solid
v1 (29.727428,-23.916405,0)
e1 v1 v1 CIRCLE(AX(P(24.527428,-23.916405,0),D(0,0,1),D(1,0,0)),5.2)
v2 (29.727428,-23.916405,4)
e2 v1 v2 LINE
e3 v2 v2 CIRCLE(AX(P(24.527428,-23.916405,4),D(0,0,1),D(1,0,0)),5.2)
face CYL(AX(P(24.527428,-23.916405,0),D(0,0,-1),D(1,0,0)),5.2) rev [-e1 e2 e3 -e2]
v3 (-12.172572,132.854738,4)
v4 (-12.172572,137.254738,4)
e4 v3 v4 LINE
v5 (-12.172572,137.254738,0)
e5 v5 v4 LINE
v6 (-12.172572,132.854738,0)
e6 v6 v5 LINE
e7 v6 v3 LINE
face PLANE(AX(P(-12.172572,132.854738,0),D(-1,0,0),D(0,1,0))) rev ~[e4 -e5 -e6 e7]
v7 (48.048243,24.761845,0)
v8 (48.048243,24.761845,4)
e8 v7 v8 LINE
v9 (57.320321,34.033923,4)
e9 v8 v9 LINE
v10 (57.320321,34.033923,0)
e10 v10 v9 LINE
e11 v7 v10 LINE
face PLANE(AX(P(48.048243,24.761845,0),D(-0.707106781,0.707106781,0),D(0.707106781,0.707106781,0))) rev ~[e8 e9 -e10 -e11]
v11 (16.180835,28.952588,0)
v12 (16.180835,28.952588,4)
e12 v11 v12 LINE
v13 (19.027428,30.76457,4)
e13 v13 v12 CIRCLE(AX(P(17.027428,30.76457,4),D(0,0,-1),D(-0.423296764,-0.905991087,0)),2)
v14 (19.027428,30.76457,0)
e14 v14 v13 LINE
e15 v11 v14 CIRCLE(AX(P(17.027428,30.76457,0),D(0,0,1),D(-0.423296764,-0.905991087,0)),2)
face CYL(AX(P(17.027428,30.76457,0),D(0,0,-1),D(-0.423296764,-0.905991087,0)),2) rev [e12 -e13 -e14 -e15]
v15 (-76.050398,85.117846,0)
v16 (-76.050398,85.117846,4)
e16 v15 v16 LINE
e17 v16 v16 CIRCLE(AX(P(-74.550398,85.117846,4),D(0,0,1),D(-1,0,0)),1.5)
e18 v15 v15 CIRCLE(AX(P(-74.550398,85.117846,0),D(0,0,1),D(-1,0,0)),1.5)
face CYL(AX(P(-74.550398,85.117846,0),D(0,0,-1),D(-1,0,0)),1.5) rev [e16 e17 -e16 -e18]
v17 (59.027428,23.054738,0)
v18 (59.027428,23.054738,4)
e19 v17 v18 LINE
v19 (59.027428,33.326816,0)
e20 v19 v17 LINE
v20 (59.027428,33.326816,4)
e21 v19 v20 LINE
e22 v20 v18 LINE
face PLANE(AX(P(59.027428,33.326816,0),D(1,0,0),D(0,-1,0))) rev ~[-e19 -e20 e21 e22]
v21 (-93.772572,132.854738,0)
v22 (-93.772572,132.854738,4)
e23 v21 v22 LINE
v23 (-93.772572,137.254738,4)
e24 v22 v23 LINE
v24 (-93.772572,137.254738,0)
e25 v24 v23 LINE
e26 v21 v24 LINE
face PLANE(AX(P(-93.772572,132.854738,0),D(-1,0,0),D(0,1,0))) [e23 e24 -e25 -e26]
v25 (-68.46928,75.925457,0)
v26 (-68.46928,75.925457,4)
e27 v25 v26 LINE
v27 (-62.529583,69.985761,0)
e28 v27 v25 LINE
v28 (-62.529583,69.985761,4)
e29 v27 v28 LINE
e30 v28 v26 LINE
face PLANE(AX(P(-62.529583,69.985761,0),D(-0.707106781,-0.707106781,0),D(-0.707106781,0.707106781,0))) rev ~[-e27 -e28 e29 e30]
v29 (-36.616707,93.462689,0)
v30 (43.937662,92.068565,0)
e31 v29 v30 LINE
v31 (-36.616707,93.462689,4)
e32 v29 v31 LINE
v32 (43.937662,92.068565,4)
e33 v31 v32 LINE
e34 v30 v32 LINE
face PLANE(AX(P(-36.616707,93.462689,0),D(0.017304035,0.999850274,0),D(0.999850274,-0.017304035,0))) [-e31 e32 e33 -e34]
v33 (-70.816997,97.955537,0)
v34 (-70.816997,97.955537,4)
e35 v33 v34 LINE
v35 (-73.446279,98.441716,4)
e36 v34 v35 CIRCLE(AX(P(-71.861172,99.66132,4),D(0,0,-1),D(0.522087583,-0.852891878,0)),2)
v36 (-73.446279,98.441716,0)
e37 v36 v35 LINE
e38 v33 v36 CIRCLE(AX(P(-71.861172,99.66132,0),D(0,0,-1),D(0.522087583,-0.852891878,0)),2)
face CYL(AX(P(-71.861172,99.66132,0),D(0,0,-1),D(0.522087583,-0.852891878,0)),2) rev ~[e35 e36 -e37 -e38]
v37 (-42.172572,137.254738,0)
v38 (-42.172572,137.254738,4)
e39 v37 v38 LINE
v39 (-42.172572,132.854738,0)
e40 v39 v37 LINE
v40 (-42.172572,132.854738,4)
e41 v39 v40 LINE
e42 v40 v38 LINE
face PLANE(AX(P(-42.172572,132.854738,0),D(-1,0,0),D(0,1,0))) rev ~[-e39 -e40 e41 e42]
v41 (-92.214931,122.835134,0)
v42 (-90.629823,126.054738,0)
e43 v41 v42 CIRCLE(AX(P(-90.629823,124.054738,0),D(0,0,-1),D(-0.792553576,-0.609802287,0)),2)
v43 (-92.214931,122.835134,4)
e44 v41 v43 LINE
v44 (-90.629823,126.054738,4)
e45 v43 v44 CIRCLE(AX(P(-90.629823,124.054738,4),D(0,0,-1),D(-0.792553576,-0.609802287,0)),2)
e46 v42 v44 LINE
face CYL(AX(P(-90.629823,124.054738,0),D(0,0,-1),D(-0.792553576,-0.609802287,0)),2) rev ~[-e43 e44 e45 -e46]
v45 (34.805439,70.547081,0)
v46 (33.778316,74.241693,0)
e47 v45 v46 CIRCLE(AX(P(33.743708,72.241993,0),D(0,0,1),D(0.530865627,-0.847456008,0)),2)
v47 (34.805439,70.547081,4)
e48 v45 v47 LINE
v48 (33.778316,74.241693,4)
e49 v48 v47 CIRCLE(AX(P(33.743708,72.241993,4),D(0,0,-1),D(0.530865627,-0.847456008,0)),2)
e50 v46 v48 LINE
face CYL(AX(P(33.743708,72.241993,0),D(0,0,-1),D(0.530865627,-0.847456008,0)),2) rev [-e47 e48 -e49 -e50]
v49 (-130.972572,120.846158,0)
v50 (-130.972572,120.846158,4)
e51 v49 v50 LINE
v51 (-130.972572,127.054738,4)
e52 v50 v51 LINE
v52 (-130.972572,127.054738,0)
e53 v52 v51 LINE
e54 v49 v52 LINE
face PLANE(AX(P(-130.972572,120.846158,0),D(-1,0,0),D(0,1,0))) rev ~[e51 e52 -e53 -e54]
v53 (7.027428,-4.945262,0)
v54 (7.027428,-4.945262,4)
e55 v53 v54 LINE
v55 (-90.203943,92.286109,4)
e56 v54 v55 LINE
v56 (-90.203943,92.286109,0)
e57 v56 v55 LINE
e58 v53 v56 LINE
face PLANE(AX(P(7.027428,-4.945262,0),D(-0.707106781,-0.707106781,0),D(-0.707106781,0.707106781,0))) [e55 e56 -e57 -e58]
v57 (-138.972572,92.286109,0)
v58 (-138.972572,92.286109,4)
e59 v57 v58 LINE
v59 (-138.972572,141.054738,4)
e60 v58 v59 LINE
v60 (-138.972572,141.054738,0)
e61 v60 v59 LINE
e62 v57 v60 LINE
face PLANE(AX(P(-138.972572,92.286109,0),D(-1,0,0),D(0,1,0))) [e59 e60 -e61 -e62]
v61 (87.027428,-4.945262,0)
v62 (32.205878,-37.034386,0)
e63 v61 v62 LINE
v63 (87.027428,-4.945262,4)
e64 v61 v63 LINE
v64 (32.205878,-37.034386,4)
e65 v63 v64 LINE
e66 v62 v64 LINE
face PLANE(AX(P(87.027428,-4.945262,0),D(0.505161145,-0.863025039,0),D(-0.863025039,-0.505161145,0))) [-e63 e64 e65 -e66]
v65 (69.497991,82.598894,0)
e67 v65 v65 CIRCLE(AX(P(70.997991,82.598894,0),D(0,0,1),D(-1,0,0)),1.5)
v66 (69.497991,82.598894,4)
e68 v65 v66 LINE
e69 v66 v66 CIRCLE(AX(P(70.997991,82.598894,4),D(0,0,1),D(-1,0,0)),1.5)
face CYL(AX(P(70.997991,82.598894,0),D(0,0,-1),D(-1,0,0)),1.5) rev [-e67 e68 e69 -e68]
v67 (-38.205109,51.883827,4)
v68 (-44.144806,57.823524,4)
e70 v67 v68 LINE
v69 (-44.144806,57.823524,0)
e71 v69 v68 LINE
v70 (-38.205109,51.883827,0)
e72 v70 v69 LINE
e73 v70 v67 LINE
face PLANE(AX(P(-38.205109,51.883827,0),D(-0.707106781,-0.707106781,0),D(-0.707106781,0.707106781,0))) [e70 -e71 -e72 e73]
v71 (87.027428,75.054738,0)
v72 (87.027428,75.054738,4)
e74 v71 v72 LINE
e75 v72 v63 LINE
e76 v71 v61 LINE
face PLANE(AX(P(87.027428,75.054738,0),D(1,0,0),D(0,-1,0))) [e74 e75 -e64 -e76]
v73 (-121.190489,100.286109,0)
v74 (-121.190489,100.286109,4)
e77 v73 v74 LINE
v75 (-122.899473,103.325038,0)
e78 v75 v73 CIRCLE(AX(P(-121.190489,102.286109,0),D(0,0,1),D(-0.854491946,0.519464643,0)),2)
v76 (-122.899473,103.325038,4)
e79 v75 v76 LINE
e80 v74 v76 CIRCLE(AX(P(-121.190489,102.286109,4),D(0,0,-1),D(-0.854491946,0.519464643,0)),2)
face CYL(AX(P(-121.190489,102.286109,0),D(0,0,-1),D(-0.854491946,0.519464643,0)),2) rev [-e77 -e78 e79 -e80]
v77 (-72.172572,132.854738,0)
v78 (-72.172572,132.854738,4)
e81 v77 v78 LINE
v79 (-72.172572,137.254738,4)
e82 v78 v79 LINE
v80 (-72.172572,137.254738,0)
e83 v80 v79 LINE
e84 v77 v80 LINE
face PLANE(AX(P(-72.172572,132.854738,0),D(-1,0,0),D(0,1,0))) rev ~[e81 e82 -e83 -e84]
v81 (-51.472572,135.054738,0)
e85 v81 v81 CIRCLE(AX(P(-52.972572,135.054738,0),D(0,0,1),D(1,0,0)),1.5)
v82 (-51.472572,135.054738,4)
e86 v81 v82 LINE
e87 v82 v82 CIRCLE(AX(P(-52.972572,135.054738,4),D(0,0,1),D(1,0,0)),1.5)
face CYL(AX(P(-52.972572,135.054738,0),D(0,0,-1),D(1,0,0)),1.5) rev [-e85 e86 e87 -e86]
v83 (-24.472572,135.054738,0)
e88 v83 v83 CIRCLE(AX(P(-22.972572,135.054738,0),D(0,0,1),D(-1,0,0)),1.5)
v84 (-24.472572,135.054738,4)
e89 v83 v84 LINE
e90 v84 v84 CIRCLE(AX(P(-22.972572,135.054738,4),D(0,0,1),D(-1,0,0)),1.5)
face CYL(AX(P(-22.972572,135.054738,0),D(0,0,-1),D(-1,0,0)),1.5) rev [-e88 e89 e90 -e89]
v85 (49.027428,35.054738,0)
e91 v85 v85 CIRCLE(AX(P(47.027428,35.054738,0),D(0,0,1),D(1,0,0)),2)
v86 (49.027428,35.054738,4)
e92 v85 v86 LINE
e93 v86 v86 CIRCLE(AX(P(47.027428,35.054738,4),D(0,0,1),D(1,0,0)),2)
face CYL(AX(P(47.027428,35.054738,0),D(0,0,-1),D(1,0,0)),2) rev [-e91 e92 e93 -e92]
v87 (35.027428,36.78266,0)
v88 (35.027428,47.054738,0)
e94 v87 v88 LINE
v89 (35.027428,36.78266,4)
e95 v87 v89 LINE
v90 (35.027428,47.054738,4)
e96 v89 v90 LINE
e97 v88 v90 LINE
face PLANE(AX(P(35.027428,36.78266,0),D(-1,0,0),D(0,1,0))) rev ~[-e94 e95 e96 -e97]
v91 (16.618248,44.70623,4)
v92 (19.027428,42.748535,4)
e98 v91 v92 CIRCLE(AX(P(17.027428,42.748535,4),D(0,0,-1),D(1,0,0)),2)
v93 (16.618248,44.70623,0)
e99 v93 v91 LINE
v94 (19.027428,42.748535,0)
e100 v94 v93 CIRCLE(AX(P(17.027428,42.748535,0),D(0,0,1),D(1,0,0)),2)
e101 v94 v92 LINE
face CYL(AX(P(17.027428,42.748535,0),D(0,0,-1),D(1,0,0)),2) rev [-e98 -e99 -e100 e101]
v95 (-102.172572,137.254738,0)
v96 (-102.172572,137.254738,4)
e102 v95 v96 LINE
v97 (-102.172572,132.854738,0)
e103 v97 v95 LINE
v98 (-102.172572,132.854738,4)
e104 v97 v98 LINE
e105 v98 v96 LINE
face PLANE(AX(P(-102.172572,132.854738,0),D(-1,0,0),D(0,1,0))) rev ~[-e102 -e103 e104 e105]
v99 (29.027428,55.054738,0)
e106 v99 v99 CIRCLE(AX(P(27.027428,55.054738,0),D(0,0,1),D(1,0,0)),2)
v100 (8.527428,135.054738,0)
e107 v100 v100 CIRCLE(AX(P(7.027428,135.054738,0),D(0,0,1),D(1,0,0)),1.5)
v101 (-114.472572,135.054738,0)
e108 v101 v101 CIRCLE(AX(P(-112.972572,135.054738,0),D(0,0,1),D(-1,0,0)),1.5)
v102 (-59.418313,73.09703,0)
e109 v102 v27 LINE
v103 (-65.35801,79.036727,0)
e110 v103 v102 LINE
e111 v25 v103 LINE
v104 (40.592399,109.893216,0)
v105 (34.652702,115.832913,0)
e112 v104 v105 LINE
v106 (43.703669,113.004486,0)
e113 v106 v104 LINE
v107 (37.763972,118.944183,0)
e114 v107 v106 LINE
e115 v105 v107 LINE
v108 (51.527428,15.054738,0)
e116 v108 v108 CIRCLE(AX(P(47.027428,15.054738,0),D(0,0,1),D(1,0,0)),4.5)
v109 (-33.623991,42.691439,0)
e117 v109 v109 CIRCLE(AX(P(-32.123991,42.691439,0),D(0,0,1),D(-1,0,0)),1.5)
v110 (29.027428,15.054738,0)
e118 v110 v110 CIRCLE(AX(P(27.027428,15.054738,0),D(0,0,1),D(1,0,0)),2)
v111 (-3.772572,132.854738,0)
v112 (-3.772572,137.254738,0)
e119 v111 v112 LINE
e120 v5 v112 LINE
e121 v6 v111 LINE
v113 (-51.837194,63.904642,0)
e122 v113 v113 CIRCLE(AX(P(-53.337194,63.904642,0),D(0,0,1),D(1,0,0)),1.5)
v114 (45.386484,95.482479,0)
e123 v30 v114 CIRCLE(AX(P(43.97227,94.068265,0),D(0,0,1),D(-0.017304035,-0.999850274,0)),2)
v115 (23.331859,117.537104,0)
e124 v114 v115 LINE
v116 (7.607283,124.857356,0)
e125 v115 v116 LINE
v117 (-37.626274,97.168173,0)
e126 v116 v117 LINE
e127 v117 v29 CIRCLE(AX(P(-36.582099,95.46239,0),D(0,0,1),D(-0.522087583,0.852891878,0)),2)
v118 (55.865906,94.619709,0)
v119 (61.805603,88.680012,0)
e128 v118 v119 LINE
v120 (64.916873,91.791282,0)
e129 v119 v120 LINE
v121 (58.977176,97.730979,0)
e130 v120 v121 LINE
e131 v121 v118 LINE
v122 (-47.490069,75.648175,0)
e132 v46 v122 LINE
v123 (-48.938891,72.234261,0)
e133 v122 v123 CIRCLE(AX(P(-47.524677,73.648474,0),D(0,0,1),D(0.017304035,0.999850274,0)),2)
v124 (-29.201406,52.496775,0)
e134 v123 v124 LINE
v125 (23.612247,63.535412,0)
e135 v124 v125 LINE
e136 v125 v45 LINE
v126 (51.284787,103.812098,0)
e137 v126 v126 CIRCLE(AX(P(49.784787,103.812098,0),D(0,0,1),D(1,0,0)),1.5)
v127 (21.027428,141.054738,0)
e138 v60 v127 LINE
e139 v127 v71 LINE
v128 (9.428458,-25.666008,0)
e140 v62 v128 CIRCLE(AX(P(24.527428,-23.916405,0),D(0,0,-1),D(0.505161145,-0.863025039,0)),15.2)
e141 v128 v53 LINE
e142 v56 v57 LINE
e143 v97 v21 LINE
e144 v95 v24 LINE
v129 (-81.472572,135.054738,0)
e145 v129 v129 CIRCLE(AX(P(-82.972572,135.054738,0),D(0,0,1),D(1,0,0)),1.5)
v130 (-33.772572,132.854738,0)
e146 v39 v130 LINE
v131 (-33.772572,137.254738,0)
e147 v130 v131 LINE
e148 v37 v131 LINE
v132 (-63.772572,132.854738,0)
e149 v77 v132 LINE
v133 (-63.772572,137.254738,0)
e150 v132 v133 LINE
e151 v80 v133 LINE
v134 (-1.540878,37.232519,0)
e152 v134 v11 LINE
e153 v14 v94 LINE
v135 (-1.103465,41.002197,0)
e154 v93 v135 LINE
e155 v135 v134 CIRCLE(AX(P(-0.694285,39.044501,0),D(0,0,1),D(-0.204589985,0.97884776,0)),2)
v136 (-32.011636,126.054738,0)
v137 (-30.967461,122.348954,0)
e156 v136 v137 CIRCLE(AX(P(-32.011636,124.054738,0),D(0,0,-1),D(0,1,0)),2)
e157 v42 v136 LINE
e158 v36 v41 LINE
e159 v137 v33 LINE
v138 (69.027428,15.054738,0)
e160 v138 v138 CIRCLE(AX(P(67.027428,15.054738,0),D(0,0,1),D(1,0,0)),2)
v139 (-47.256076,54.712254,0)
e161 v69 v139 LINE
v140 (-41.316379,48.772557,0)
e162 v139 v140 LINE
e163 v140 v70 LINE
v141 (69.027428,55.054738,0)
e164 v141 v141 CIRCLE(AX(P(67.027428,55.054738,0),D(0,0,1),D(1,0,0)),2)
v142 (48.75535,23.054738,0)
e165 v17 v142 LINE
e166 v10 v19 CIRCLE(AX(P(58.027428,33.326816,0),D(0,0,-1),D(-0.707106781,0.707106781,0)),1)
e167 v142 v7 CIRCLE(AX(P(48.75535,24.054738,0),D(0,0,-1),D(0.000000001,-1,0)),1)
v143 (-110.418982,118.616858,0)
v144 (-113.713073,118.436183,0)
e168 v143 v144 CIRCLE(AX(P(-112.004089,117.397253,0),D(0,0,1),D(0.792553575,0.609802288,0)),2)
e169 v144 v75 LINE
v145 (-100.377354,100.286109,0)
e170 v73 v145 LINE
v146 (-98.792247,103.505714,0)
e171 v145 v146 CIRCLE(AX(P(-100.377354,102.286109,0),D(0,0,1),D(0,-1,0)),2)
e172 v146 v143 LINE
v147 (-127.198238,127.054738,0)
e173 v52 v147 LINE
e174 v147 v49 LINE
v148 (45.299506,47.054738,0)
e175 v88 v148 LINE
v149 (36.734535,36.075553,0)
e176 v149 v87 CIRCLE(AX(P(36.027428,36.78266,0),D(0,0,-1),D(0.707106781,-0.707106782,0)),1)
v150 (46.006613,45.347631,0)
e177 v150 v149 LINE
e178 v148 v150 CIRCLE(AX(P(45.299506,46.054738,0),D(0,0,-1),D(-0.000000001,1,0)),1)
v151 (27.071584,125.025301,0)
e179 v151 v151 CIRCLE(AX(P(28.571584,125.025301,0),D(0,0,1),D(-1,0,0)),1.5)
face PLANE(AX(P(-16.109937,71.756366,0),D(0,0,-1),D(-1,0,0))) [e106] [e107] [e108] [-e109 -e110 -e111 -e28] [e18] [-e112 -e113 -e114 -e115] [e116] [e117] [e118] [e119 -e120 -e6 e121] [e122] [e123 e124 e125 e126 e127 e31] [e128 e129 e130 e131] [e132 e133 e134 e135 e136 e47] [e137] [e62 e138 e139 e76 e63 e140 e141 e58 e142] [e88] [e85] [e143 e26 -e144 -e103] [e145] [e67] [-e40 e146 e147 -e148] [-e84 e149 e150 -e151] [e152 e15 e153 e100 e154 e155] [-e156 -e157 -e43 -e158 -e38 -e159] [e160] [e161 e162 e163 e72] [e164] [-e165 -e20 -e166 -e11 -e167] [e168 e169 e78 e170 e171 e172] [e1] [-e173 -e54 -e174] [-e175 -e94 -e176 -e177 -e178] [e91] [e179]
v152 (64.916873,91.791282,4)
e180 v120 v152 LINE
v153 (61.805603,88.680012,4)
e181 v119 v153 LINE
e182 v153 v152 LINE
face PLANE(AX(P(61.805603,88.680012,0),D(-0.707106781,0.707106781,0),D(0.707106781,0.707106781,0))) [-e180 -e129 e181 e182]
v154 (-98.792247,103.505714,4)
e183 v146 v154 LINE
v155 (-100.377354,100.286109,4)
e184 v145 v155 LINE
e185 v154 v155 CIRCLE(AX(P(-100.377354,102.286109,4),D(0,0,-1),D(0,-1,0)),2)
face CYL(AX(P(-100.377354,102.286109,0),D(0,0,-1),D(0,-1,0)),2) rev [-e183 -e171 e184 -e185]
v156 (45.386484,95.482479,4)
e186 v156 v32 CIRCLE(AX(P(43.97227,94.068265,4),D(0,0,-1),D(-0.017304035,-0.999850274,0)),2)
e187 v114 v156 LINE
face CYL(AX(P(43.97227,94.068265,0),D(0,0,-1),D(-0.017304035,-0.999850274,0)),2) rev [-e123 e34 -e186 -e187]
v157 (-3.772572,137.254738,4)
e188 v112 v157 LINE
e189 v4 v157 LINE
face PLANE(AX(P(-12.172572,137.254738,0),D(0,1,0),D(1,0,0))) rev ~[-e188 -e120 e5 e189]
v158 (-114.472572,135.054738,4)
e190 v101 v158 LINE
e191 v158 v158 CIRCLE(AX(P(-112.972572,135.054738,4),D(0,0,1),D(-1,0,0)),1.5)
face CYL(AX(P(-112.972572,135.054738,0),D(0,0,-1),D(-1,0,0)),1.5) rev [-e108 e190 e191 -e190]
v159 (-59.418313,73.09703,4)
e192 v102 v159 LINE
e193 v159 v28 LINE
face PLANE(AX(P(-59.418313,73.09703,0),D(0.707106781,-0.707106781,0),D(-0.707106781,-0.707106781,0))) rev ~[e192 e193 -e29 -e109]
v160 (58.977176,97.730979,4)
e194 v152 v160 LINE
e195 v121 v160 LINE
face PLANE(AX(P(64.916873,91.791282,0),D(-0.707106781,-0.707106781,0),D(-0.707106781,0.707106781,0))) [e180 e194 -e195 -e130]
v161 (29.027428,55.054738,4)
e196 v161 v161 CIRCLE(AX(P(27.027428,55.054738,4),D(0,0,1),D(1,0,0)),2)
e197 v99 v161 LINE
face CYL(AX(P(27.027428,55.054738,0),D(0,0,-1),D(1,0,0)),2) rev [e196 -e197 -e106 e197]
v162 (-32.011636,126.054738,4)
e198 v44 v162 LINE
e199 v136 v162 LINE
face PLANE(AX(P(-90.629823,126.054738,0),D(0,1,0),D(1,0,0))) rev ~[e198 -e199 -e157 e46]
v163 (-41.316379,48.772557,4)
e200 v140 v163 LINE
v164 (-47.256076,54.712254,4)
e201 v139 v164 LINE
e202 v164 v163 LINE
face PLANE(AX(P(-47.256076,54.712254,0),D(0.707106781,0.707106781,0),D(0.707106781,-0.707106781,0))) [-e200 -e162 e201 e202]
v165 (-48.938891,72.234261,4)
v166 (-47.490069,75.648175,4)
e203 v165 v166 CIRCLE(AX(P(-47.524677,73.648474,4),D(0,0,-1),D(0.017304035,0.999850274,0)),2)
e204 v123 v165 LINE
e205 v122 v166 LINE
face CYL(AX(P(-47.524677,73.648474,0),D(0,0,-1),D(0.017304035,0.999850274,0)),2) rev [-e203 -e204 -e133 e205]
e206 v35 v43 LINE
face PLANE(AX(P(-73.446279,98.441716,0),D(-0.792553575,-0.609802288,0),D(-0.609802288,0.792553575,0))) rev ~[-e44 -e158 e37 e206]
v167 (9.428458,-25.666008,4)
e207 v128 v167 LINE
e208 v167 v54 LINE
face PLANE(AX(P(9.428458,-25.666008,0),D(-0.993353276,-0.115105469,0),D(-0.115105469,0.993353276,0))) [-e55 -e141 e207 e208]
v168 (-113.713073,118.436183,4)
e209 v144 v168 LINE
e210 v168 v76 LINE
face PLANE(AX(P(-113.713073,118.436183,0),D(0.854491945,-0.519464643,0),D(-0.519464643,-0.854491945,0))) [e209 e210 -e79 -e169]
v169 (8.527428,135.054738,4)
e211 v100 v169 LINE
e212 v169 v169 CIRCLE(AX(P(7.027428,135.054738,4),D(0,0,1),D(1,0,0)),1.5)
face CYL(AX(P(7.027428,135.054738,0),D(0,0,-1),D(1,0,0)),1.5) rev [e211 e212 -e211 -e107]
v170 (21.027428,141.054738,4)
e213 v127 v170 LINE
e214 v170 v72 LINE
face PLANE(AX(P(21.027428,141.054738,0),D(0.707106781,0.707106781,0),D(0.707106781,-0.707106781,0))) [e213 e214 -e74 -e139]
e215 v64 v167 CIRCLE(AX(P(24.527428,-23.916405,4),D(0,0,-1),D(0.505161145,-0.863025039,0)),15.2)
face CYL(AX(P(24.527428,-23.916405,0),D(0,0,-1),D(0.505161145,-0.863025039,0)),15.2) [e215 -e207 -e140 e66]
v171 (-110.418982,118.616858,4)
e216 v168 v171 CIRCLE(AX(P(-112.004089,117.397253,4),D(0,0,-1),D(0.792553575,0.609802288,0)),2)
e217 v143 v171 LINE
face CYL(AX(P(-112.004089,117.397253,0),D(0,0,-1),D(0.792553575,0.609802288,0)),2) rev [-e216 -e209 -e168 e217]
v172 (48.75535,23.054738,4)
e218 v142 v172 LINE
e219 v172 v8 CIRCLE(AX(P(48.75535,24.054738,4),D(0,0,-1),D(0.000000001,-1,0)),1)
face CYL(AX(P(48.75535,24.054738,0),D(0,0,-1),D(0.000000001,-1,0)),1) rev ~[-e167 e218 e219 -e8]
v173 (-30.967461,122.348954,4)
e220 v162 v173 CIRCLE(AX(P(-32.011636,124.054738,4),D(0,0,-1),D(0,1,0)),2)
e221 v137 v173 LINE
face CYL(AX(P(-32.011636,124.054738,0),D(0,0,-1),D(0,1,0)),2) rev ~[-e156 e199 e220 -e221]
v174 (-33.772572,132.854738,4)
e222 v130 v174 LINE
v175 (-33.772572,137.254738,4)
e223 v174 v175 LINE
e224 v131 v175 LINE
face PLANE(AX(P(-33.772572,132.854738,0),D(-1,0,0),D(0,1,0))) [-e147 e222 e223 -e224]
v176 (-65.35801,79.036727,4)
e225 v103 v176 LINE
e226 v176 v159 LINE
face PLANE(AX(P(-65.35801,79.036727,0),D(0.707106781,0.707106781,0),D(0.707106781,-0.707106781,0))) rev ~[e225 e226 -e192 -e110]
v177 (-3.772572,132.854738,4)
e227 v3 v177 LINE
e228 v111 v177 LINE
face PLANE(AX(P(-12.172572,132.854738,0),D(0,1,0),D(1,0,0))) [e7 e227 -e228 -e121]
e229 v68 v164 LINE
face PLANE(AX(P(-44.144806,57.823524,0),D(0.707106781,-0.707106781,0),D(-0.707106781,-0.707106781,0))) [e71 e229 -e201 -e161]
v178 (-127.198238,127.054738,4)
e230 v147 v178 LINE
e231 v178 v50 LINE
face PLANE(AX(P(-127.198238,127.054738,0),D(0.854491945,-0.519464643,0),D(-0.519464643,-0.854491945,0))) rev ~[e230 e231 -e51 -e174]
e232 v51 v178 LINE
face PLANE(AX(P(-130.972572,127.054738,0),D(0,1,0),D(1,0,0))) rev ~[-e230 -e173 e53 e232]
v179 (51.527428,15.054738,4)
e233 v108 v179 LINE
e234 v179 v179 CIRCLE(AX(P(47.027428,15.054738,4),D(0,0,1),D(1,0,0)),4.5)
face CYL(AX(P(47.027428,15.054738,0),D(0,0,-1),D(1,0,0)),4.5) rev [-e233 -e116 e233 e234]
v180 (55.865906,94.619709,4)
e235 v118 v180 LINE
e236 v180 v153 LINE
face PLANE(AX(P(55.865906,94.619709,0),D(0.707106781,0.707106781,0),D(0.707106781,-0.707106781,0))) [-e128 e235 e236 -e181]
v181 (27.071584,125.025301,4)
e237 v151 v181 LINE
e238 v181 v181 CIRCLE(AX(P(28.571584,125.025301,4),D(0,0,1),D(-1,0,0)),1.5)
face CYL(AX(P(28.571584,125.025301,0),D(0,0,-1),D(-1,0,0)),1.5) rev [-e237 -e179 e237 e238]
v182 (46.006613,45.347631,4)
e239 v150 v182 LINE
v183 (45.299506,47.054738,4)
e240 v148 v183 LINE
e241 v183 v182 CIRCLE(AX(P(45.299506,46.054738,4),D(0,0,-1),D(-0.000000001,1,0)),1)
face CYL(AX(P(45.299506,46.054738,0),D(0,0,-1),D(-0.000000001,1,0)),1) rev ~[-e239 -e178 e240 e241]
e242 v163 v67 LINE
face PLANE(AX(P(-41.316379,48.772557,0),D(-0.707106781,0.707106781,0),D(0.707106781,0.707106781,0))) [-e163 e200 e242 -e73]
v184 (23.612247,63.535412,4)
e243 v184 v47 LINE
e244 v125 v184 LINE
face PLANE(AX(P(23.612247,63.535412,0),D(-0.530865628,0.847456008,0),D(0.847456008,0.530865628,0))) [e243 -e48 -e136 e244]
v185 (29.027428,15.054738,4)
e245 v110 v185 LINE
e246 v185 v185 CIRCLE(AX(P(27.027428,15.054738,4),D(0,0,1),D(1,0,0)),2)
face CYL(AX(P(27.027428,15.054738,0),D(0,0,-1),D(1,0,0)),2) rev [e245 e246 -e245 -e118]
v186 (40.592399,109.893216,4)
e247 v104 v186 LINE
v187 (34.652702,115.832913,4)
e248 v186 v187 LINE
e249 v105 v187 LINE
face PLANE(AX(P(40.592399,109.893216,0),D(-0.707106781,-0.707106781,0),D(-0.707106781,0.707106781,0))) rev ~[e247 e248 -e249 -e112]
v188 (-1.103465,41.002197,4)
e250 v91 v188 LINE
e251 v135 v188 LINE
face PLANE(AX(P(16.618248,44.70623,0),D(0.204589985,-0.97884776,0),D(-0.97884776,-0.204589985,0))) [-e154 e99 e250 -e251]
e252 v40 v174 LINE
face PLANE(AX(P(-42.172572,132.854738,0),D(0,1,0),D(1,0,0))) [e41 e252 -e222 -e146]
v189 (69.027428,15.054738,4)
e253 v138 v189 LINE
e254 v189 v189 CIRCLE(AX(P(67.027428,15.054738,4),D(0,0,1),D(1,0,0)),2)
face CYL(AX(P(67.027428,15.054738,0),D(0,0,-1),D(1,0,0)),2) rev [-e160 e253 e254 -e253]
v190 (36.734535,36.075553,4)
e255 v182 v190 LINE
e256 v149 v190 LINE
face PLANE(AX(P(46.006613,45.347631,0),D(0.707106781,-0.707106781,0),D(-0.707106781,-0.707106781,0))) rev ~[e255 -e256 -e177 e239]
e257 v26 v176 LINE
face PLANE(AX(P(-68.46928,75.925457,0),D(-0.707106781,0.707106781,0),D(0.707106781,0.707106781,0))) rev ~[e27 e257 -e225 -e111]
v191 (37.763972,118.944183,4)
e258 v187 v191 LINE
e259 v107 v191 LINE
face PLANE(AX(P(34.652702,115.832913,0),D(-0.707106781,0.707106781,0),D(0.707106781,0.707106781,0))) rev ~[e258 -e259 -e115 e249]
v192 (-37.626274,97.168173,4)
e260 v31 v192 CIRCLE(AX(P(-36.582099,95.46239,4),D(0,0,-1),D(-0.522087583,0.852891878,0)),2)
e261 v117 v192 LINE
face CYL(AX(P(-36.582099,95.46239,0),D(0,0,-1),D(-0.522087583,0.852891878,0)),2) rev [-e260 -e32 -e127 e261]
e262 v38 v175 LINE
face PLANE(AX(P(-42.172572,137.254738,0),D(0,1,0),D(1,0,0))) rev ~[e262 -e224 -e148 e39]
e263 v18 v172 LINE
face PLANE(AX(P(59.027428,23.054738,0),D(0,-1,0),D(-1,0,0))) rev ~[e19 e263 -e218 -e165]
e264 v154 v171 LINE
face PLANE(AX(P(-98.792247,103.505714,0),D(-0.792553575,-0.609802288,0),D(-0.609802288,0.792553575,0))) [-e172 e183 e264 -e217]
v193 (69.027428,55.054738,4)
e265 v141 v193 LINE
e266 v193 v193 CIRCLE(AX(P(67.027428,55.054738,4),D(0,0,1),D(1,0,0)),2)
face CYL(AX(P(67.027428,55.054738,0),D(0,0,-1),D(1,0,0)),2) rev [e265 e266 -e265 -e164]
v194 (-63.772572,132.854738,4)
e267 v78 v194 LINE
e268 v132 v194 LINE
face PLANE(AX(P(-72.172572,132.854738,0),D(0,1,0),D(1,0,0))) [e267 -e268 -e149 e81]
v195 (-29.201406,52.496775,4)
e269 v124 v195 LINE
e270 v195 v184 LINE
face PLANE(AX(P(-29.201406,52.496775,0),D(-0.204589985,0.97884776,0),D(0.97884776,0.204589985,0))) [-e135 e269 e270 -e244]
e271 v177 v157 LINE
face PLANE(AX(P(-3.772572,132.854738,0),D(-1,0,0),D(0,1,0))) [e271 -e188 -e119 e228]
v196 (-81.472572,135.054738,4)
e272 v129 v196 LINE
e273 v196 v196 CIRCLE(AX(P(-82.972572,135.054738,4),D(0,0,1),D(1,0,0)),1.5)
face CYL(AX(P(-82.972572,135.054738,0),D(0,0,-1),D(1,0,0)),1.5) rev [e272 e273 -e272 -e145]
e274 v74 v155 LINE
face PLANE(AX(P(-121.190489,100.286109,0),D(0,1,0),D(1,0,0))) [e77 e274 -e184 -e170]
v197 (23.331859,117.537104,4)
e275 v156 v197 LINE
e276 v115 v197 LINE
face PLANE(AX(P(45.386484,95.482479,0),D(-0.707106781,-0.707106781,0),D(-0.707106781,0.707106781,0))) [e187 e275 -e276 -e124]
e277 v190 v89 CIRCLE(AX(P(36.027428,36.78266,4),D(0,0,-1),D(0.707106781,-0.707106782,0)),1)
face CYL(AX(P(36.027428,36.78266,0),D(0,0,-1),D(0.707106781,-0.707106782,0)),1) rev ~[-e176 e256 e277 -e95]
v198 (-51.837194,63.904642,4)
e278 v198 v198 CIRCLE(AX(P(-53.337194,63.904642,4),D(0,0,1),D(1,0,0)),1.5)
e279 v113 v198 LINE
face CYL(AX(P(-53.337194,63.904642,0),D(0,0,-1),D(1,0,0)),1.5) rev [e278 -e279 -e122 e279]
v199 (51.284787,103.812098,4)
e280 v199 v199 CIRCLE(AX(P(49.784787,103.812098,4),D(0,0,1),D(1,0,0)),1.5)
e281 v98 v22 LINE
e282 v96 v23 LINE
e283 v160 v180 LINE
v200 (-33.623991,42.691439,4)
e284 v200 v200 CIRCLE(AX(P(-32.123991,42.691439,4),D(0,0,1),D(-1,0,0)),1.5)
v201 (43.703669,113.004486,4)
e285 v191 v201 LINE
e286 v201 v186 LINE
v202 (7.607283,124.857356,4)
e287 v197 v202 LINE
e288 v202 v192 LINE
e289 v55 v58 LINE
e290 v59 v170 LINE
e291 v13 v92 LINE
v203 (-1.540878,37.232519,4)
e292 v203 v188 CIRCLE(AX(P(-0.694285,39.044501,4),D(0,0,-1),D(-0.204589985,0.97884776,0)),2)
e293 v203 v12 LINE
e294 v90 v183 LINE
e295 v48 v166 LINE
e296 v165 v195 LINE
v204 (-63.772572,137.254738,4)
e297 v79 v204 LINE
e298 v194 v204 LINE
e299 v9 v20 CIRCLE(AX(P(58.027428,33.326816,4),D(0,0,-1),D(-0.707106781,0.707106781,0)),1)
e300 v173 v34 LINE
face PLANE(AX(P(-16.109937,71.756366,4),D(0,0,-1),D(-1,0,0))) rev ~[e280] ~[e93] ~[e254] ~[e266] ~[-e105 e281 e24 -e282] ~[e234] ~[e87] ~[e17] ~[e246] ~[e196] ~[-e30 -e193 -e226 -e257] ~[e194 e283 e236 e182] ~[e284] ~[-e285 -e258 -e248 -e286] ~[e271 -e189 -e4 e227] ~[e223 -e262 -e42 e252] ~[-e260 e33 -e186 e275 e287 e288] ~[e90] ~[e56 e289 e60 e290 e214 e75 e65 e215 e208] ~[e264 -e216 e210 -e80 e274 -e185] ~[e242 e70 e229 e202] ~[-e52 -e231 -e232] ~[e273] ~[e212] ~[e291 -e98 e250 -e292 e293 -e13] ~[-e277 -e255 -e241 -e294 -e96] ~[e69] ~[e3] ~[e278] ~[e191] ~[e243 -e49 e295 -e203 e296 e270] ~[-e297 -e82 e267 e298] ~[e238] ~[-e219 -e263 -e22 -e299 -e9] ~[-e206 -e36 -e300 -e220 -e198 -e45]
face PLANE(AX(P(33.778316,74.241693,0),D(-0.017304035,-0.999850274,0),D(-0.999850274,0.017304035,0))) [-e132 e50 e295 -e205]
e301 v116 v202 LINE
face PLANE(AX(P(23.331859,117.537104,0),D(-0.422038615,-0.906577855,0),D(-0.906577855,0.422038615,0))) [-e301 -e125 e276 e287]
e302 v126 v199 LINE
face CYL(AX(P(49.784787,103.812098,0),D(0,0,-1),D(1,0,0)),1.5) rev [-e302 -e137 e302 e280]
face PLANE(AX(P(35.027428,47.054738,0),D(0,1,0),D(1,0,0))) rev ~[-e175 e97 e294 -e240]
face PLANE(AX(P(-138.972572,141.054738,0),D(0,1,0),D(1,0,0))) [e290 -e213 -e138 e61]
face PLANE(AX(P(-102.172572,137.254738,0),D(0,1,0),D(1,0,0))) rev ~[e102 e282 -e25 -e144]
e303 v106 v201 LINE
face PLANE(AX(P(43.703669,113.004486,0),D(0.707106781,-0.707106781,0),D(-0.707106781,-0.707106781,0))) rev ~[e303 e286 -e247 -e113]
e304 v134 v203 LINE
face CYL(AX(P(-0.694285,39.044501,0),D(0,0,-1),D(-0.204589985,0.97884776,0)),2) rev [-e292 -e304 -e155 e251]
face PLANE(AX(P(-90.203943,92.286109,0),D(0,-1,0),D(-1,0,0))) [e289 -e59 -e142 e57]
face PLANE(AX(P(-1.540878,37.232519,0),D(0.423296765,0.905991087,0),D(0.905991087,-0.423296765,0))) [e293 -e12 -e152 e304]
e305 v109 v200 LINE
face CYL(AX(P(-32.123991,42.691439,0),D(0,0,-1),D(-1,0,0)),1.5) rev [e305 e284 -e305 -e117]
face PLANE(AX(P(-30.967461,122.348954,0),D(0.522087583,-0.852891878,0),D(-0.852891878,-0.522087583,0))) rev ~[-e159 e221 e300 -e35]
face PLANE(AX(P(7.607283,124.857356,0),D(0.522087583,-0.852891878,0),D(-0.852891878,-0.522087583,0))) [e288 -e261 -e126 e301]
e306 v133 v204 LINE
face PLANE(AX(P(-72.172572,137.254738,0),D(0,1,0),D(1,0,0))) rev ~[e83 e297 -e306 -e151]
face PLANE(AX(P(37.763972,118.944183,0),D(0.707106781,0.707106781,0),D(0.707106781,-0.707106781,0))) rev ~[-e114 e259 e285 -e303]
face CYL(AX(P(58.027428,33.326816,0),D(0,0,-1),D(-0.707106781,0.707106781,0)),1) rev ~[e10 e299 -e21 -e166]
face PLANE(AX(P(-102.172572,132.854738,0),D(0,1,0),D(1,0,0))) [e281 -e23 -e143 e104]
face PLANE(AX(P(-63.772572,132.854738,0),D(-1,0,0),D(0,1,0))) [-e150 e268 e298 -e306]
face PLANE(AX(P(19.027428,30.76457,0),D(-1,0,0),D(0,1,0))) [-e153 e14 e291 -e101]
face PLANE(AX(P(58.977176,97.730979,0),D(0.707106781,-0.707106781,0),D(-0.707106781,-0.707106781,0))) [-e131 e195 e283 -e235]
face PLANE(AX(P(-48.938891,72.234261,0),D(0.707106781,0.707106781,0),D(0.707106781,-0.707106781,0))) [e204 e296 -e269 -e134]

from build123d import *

# Parameters (mm, degrees)
SKETCH_1_R          = 1.5
SKETCH_1_R_2        = 4.5
SKETCH_1_R_3        = 2
SKETCH_1_R_4        = 5.2
SKETCH_1_W          = 8.4
SKETCH_1_H          = 4.4
EXTRUDE_1_DEPTH     = 4
CUT_EXTRUDE_1_DEPTH = 10


with BuildPart() as part:
    # 草图1 → 凸台-拉伸1 (new body)
    with BuildSketch(Plane.XY):
        with BuildLine():
            Line((-138.972571837, 141.054738201), (21.027428163, 141.054738201))
            Line((21.027428163, 141.054738201), (87.027428163, 75.054738201))
            Line((87.027428163, 75.054738201), (87.027428163, -4.945261799))
            Line((87.027428163, -4.945261799), (32.205877569, -37.034385558))
            ThreePointArc((32.205877569, -37.034385558), (17.739495323, -37.516550842), (9.428458368, -25.666008097))
            Line((9.428458368, -25.666008097), (7.027428163, -4.945261799))
            Line((7.027428163, -4.945261799), (-90.203942848, 92.286109212))
            Line((-90.203942848, 92.286109212), (-138.972571837, 92.286109212))
            Line((-138.972571837, 92.286109212), (-138.972571837, 141.054738201))
        make_face()
        with Locations((-52.972571837, 135.054738201)):
            Circle(SKETCH_1_R, mode=Mode.SUBTRACT)
        with Locations((47.027428163, 15.054738201)):
            Circle(SKETCH_1_R_2, mode=Mode.SUBTRACT)
        with Locations(Location((-22.972571837, 135.054738201, 0), (0, 0, 180))):
            Circle(SKETCH_1_R, mode=Mode.SUBTRACT)
        with Locations((7.027428163, 135.054738201)):
            Circle(SKETCH_1_R, mode=Mode.SUBTRACT)
        with Locations((67.027428163, 15.054738201)):
            Circle(SKETCH_1_R_3, mode=Mode.SUBTRACT)
        with Locations((67.027428163, 55.054738201)):
            Circle(SKETCH_1_R_3, mode=Mode.SUBTRACT)
        with Locations((27.027428163, 55.054738201)):
            Circle(SKETCH_1_R_3, mode=Mode.SUBTRACT)
        with Locations((27.027428163, 15.054738201)):
            Circle(SKETCH_1_R_3, mode=Mode.SUBTRACT)
        with Locations((47.027428163, 35.054738201)):
            Circle(SKETCH_1_R_3, mode=Mode.SUBTRACT)
        with Locations(Location((-112.972571837, 135.054738201, 0), (0, 0, 180))):
            Circle(SKETCH_1_R, mode=Mode.SUBTRACT)
        with Locations((-82.972571837, 135.054738201)):
            Circle(SKETCH_1_R, mode=Mode.SUBTRACT)
        with Locations((24.527428163, -23.916404969)):
            Circle(SKETCH_1_R_4, mode=Mode.SUBTRACT)
        with Locations((49.784787476, 103.812097514)):
            Circle(SKETCH_1_R, mode=Mode.SUBTRACT)
        with Locations(Location((70.997990912, 82.598894078, 0), (0, 0, 180))):
            Circle(SKETCH_1_R, mode=Mode.SUBTRACT)
        with Locations(Location((28.571584041, 125.025300949, 0), (0, 0, 180))):
            Circle(SKETCH_1_R, mode=Mode.SUBTRACT)
        with Locations((-53.337194475, 63.904642213)):
            Circle(SKETCH_1_R, mode=Mode.SUBTRACT)
        with Locations(Location((-32.123991039, 42.691438778, 0), (0, 0, 180))):
            Circle(SKETCH_1_R, mode=Mode.SUBTRACT)
        with Locations(Location((-74.55039791, 85.117845649, 0), (0, 0, 180))):
            Circle(SKETCH_1_R, mode=Mode.SUBTRACT)
        with Locations((-37.972571837, 135.054738201)):
            Rectangle(SKETCH_1_W, SKETCH_1_H, mode=Mode.SUBTRACT)
        with Locations((-7.972571837, 135.054738201)):
            Rectangle(SKETCH_1_W, SKETCH_1_H, mode=Mode.SUBTRACT)
        with Locations((-97.972571837, 135.054738201)):
            Rectangle(SKETCH_1_W, SKETCH_1_H, mode=Mode.SUBTRACT)
        with Locations((-67.972571837, 135.054738201)):
            Rectangle(SKETCH_1_W, SKETCH_1_H, mode=Mode.SUBTRACT)
        Polygon((55.865905794, 94.619709358), (61.805602756, 88.680012396), (64.916872594, 91.791282234), (58.977175632, 97.730979196), align=None, mode=Mode.SUBTRACT)
        Polygon((34.652702359, 115.832912794), (37.763972196, 118.944182631), (43.703669158, 113.004485669), (40.592399321, 109.893215832), align=None, mode=Mode.SUBTRACT)
        Polygon((-47.256076157, 54.712254058), (-41.316379195, 48.772557096), (-38.205109357, 51.883826933), (-44.144806319, 57.823523895), align=None, mode=Mode.SUBTRACT)
        Polygon((-68.469279592, 75.925457494), (-65.358009755, 79.036727331), (-59.418312793, 73.097030369), (-62.52958263, 69.985760532), align=None, mode=Mode.SUBTRACT)
    extrude(amount=EXTRUDE_1_DEPTH)

    # 草图2 → 切除-拉伸1 (cut)
    with BuildSketch(Plane(origin=(0, 0, 0), x_dir=(-1, 0, 0), z_dir=(0, 0, -1))):
        with BuildLine():
            Line((98.792246858, 103.505713788), (110.418981679, 118.616857906))
            ThreePointArc((110.418981679, 118.616857906), (112.113620797, 119.394251765), (113.713072721, 118.436182616))
            Line((113.713072721, 118.436182616), (122.899473042, 103.325038498))
            ThreePointArc((122.899473042, 103.325038498), (122.933741653, 101.305767071), (121.190489151, 100.286109212))
            Line((121.190489151, 100.286109212), (100.377354008, 100.286109212))
            ThreePointArc((100.377354008, 100.286109212), (98.583028348, 101.402709289), (98.792246858, 103.505713788))
        make_face()
        with BuildLine():
            Line((1.540878081, 37.232518875), (-16.180834634, 28.952587901))
            ThreePointArc((-16.180834634, 28.952587901), (-18.101395793, 29.077384984), (-19.027428163, 30.764570074))
            Line((-19.027428163, 30.764570074), (-19.027428163, 42.748534587))
            ThreePointArc((-19.027428163, 42.748534587), (-18.288705306, 44.30068792), (-16.618248194, 44.706230108))
            Line((-16.618248194, 44.706230108), (1.103464521, 41.002196569))
            ThreePointArc((1.103464521, 41.002196569), (2.680954944, 39.275023825), (1.540878081, 37.232518875))
        make_face()
        Polygon((127.198237985, 127.054738201), (130.972571837, 120.84615804), (130.972571837, 127.054738201), align=None)
        with BuildLine():
            Line((73.446278945, 98.44171591), (92.214930542, 122.835133626))
            ThreePointArc((92.214930542, 122.835133626), (92.424149051, 124.938138124), (90.629823391, 126.054738201))
            Line((90.629823391, 126.054738201), (32.011635988, 126.054738201))
            ThreePointArc((32.011635988, 126.054738201), (30.086594754, 124.59715524), (30.967460822, 122.348954445))
            Line((30.967460822, 122.348954445), (70.816996628, 97.955536729))
            ThreePointArc((70.816996628, 97.955536729), (72.224826028, 97.694659457), (73.446278945, 98.44171591))
        make_face()
        with BuildLine():
            Line((36.616706696, 93.462689168), (-43.937662379, 92.068564807))
            ThreePointArc((-43.937662379, 92.068564807), (-45.813338133, 93.286939697), (-45.386484011, 95.482478917))
            Line((-45.386484011, 95.482478917), (-23.33185922, 117.537103709))
            Line((-23.33185922, 117.537103709), (-7.607283327, 124.857355573))
            Line((-7.607283327, 124.857355573), (37.626273792, 97.168173472))
            ThreePointArc((37.626273792, 97.168173472), (38.51176098, 94.936649095), (36.616706696, 93.462689168))
        make_face()
        with BuildLine():
            Line((29.20140553, 52.49677533), (-23.612246698, 63.53541151))
            Line((-23.612246698, 63.53541151), (-34.805439363, 70.547080779))
            ThreePointArc((-34.805439363, 70.547080779), (-35.670630649, 72.777688158), (-33.778316178, 74.241693343))
            Line((-33.778316178, 74.241693343), (47.490069377, 75.64817492))
            ThreePointArc((47.490069377, 75.64817492), (49.365745131, 74.42980003), (48.93889101, 72.23426081))
            Line((48.93889101, 72.23426081), (29.20140553, 52.49677533))
        make_face()
        with BuildLine():
            Line((-59.027428163, 23.054738201), (-48.755350225, 23.054738201))
            ThreePointArc((-48.755350225, 23.054738201), (-47.831470692, 23.672054769), (-48.048243444, 24.761844982))
            Line((-48.048243444, 24.761844982), (-57.320321382, 34.033922921))
            ThreePointArc((-57.320321382, 34.033922921), (-58.410111596, 34.250695672), (-59.027428163, 33.32681614))
            Line((-59.027428163, 33.32681614), (-59.027428163, 23.054738201))
        make_face()
        with BuildLine():
            Line((-35.027428163, 36.782660262), (-35.027428163, 47.054738201))
            Line((-35.027428163, 47.054738201), (-45.299506102, 47.054738201))
            ThreePointArc((-45.299506102, 47.054738201), (-46.223385635, 46.437421633), (-46.006612883, 45.34763142))
            Line((-46.006612883, 45.34763142), (-36.734534945, 36.075553481))
            ThreePointArc((-36.734534945, 36.075553481), (-35.644744731, 35.85878073), (-35.027428163, 36.782660262))
        make_face()
    extrude(amount=-CUT_EXTRUDE_1_DEPTH, mode=Mode.SUBTRACT)


solid = part.part
